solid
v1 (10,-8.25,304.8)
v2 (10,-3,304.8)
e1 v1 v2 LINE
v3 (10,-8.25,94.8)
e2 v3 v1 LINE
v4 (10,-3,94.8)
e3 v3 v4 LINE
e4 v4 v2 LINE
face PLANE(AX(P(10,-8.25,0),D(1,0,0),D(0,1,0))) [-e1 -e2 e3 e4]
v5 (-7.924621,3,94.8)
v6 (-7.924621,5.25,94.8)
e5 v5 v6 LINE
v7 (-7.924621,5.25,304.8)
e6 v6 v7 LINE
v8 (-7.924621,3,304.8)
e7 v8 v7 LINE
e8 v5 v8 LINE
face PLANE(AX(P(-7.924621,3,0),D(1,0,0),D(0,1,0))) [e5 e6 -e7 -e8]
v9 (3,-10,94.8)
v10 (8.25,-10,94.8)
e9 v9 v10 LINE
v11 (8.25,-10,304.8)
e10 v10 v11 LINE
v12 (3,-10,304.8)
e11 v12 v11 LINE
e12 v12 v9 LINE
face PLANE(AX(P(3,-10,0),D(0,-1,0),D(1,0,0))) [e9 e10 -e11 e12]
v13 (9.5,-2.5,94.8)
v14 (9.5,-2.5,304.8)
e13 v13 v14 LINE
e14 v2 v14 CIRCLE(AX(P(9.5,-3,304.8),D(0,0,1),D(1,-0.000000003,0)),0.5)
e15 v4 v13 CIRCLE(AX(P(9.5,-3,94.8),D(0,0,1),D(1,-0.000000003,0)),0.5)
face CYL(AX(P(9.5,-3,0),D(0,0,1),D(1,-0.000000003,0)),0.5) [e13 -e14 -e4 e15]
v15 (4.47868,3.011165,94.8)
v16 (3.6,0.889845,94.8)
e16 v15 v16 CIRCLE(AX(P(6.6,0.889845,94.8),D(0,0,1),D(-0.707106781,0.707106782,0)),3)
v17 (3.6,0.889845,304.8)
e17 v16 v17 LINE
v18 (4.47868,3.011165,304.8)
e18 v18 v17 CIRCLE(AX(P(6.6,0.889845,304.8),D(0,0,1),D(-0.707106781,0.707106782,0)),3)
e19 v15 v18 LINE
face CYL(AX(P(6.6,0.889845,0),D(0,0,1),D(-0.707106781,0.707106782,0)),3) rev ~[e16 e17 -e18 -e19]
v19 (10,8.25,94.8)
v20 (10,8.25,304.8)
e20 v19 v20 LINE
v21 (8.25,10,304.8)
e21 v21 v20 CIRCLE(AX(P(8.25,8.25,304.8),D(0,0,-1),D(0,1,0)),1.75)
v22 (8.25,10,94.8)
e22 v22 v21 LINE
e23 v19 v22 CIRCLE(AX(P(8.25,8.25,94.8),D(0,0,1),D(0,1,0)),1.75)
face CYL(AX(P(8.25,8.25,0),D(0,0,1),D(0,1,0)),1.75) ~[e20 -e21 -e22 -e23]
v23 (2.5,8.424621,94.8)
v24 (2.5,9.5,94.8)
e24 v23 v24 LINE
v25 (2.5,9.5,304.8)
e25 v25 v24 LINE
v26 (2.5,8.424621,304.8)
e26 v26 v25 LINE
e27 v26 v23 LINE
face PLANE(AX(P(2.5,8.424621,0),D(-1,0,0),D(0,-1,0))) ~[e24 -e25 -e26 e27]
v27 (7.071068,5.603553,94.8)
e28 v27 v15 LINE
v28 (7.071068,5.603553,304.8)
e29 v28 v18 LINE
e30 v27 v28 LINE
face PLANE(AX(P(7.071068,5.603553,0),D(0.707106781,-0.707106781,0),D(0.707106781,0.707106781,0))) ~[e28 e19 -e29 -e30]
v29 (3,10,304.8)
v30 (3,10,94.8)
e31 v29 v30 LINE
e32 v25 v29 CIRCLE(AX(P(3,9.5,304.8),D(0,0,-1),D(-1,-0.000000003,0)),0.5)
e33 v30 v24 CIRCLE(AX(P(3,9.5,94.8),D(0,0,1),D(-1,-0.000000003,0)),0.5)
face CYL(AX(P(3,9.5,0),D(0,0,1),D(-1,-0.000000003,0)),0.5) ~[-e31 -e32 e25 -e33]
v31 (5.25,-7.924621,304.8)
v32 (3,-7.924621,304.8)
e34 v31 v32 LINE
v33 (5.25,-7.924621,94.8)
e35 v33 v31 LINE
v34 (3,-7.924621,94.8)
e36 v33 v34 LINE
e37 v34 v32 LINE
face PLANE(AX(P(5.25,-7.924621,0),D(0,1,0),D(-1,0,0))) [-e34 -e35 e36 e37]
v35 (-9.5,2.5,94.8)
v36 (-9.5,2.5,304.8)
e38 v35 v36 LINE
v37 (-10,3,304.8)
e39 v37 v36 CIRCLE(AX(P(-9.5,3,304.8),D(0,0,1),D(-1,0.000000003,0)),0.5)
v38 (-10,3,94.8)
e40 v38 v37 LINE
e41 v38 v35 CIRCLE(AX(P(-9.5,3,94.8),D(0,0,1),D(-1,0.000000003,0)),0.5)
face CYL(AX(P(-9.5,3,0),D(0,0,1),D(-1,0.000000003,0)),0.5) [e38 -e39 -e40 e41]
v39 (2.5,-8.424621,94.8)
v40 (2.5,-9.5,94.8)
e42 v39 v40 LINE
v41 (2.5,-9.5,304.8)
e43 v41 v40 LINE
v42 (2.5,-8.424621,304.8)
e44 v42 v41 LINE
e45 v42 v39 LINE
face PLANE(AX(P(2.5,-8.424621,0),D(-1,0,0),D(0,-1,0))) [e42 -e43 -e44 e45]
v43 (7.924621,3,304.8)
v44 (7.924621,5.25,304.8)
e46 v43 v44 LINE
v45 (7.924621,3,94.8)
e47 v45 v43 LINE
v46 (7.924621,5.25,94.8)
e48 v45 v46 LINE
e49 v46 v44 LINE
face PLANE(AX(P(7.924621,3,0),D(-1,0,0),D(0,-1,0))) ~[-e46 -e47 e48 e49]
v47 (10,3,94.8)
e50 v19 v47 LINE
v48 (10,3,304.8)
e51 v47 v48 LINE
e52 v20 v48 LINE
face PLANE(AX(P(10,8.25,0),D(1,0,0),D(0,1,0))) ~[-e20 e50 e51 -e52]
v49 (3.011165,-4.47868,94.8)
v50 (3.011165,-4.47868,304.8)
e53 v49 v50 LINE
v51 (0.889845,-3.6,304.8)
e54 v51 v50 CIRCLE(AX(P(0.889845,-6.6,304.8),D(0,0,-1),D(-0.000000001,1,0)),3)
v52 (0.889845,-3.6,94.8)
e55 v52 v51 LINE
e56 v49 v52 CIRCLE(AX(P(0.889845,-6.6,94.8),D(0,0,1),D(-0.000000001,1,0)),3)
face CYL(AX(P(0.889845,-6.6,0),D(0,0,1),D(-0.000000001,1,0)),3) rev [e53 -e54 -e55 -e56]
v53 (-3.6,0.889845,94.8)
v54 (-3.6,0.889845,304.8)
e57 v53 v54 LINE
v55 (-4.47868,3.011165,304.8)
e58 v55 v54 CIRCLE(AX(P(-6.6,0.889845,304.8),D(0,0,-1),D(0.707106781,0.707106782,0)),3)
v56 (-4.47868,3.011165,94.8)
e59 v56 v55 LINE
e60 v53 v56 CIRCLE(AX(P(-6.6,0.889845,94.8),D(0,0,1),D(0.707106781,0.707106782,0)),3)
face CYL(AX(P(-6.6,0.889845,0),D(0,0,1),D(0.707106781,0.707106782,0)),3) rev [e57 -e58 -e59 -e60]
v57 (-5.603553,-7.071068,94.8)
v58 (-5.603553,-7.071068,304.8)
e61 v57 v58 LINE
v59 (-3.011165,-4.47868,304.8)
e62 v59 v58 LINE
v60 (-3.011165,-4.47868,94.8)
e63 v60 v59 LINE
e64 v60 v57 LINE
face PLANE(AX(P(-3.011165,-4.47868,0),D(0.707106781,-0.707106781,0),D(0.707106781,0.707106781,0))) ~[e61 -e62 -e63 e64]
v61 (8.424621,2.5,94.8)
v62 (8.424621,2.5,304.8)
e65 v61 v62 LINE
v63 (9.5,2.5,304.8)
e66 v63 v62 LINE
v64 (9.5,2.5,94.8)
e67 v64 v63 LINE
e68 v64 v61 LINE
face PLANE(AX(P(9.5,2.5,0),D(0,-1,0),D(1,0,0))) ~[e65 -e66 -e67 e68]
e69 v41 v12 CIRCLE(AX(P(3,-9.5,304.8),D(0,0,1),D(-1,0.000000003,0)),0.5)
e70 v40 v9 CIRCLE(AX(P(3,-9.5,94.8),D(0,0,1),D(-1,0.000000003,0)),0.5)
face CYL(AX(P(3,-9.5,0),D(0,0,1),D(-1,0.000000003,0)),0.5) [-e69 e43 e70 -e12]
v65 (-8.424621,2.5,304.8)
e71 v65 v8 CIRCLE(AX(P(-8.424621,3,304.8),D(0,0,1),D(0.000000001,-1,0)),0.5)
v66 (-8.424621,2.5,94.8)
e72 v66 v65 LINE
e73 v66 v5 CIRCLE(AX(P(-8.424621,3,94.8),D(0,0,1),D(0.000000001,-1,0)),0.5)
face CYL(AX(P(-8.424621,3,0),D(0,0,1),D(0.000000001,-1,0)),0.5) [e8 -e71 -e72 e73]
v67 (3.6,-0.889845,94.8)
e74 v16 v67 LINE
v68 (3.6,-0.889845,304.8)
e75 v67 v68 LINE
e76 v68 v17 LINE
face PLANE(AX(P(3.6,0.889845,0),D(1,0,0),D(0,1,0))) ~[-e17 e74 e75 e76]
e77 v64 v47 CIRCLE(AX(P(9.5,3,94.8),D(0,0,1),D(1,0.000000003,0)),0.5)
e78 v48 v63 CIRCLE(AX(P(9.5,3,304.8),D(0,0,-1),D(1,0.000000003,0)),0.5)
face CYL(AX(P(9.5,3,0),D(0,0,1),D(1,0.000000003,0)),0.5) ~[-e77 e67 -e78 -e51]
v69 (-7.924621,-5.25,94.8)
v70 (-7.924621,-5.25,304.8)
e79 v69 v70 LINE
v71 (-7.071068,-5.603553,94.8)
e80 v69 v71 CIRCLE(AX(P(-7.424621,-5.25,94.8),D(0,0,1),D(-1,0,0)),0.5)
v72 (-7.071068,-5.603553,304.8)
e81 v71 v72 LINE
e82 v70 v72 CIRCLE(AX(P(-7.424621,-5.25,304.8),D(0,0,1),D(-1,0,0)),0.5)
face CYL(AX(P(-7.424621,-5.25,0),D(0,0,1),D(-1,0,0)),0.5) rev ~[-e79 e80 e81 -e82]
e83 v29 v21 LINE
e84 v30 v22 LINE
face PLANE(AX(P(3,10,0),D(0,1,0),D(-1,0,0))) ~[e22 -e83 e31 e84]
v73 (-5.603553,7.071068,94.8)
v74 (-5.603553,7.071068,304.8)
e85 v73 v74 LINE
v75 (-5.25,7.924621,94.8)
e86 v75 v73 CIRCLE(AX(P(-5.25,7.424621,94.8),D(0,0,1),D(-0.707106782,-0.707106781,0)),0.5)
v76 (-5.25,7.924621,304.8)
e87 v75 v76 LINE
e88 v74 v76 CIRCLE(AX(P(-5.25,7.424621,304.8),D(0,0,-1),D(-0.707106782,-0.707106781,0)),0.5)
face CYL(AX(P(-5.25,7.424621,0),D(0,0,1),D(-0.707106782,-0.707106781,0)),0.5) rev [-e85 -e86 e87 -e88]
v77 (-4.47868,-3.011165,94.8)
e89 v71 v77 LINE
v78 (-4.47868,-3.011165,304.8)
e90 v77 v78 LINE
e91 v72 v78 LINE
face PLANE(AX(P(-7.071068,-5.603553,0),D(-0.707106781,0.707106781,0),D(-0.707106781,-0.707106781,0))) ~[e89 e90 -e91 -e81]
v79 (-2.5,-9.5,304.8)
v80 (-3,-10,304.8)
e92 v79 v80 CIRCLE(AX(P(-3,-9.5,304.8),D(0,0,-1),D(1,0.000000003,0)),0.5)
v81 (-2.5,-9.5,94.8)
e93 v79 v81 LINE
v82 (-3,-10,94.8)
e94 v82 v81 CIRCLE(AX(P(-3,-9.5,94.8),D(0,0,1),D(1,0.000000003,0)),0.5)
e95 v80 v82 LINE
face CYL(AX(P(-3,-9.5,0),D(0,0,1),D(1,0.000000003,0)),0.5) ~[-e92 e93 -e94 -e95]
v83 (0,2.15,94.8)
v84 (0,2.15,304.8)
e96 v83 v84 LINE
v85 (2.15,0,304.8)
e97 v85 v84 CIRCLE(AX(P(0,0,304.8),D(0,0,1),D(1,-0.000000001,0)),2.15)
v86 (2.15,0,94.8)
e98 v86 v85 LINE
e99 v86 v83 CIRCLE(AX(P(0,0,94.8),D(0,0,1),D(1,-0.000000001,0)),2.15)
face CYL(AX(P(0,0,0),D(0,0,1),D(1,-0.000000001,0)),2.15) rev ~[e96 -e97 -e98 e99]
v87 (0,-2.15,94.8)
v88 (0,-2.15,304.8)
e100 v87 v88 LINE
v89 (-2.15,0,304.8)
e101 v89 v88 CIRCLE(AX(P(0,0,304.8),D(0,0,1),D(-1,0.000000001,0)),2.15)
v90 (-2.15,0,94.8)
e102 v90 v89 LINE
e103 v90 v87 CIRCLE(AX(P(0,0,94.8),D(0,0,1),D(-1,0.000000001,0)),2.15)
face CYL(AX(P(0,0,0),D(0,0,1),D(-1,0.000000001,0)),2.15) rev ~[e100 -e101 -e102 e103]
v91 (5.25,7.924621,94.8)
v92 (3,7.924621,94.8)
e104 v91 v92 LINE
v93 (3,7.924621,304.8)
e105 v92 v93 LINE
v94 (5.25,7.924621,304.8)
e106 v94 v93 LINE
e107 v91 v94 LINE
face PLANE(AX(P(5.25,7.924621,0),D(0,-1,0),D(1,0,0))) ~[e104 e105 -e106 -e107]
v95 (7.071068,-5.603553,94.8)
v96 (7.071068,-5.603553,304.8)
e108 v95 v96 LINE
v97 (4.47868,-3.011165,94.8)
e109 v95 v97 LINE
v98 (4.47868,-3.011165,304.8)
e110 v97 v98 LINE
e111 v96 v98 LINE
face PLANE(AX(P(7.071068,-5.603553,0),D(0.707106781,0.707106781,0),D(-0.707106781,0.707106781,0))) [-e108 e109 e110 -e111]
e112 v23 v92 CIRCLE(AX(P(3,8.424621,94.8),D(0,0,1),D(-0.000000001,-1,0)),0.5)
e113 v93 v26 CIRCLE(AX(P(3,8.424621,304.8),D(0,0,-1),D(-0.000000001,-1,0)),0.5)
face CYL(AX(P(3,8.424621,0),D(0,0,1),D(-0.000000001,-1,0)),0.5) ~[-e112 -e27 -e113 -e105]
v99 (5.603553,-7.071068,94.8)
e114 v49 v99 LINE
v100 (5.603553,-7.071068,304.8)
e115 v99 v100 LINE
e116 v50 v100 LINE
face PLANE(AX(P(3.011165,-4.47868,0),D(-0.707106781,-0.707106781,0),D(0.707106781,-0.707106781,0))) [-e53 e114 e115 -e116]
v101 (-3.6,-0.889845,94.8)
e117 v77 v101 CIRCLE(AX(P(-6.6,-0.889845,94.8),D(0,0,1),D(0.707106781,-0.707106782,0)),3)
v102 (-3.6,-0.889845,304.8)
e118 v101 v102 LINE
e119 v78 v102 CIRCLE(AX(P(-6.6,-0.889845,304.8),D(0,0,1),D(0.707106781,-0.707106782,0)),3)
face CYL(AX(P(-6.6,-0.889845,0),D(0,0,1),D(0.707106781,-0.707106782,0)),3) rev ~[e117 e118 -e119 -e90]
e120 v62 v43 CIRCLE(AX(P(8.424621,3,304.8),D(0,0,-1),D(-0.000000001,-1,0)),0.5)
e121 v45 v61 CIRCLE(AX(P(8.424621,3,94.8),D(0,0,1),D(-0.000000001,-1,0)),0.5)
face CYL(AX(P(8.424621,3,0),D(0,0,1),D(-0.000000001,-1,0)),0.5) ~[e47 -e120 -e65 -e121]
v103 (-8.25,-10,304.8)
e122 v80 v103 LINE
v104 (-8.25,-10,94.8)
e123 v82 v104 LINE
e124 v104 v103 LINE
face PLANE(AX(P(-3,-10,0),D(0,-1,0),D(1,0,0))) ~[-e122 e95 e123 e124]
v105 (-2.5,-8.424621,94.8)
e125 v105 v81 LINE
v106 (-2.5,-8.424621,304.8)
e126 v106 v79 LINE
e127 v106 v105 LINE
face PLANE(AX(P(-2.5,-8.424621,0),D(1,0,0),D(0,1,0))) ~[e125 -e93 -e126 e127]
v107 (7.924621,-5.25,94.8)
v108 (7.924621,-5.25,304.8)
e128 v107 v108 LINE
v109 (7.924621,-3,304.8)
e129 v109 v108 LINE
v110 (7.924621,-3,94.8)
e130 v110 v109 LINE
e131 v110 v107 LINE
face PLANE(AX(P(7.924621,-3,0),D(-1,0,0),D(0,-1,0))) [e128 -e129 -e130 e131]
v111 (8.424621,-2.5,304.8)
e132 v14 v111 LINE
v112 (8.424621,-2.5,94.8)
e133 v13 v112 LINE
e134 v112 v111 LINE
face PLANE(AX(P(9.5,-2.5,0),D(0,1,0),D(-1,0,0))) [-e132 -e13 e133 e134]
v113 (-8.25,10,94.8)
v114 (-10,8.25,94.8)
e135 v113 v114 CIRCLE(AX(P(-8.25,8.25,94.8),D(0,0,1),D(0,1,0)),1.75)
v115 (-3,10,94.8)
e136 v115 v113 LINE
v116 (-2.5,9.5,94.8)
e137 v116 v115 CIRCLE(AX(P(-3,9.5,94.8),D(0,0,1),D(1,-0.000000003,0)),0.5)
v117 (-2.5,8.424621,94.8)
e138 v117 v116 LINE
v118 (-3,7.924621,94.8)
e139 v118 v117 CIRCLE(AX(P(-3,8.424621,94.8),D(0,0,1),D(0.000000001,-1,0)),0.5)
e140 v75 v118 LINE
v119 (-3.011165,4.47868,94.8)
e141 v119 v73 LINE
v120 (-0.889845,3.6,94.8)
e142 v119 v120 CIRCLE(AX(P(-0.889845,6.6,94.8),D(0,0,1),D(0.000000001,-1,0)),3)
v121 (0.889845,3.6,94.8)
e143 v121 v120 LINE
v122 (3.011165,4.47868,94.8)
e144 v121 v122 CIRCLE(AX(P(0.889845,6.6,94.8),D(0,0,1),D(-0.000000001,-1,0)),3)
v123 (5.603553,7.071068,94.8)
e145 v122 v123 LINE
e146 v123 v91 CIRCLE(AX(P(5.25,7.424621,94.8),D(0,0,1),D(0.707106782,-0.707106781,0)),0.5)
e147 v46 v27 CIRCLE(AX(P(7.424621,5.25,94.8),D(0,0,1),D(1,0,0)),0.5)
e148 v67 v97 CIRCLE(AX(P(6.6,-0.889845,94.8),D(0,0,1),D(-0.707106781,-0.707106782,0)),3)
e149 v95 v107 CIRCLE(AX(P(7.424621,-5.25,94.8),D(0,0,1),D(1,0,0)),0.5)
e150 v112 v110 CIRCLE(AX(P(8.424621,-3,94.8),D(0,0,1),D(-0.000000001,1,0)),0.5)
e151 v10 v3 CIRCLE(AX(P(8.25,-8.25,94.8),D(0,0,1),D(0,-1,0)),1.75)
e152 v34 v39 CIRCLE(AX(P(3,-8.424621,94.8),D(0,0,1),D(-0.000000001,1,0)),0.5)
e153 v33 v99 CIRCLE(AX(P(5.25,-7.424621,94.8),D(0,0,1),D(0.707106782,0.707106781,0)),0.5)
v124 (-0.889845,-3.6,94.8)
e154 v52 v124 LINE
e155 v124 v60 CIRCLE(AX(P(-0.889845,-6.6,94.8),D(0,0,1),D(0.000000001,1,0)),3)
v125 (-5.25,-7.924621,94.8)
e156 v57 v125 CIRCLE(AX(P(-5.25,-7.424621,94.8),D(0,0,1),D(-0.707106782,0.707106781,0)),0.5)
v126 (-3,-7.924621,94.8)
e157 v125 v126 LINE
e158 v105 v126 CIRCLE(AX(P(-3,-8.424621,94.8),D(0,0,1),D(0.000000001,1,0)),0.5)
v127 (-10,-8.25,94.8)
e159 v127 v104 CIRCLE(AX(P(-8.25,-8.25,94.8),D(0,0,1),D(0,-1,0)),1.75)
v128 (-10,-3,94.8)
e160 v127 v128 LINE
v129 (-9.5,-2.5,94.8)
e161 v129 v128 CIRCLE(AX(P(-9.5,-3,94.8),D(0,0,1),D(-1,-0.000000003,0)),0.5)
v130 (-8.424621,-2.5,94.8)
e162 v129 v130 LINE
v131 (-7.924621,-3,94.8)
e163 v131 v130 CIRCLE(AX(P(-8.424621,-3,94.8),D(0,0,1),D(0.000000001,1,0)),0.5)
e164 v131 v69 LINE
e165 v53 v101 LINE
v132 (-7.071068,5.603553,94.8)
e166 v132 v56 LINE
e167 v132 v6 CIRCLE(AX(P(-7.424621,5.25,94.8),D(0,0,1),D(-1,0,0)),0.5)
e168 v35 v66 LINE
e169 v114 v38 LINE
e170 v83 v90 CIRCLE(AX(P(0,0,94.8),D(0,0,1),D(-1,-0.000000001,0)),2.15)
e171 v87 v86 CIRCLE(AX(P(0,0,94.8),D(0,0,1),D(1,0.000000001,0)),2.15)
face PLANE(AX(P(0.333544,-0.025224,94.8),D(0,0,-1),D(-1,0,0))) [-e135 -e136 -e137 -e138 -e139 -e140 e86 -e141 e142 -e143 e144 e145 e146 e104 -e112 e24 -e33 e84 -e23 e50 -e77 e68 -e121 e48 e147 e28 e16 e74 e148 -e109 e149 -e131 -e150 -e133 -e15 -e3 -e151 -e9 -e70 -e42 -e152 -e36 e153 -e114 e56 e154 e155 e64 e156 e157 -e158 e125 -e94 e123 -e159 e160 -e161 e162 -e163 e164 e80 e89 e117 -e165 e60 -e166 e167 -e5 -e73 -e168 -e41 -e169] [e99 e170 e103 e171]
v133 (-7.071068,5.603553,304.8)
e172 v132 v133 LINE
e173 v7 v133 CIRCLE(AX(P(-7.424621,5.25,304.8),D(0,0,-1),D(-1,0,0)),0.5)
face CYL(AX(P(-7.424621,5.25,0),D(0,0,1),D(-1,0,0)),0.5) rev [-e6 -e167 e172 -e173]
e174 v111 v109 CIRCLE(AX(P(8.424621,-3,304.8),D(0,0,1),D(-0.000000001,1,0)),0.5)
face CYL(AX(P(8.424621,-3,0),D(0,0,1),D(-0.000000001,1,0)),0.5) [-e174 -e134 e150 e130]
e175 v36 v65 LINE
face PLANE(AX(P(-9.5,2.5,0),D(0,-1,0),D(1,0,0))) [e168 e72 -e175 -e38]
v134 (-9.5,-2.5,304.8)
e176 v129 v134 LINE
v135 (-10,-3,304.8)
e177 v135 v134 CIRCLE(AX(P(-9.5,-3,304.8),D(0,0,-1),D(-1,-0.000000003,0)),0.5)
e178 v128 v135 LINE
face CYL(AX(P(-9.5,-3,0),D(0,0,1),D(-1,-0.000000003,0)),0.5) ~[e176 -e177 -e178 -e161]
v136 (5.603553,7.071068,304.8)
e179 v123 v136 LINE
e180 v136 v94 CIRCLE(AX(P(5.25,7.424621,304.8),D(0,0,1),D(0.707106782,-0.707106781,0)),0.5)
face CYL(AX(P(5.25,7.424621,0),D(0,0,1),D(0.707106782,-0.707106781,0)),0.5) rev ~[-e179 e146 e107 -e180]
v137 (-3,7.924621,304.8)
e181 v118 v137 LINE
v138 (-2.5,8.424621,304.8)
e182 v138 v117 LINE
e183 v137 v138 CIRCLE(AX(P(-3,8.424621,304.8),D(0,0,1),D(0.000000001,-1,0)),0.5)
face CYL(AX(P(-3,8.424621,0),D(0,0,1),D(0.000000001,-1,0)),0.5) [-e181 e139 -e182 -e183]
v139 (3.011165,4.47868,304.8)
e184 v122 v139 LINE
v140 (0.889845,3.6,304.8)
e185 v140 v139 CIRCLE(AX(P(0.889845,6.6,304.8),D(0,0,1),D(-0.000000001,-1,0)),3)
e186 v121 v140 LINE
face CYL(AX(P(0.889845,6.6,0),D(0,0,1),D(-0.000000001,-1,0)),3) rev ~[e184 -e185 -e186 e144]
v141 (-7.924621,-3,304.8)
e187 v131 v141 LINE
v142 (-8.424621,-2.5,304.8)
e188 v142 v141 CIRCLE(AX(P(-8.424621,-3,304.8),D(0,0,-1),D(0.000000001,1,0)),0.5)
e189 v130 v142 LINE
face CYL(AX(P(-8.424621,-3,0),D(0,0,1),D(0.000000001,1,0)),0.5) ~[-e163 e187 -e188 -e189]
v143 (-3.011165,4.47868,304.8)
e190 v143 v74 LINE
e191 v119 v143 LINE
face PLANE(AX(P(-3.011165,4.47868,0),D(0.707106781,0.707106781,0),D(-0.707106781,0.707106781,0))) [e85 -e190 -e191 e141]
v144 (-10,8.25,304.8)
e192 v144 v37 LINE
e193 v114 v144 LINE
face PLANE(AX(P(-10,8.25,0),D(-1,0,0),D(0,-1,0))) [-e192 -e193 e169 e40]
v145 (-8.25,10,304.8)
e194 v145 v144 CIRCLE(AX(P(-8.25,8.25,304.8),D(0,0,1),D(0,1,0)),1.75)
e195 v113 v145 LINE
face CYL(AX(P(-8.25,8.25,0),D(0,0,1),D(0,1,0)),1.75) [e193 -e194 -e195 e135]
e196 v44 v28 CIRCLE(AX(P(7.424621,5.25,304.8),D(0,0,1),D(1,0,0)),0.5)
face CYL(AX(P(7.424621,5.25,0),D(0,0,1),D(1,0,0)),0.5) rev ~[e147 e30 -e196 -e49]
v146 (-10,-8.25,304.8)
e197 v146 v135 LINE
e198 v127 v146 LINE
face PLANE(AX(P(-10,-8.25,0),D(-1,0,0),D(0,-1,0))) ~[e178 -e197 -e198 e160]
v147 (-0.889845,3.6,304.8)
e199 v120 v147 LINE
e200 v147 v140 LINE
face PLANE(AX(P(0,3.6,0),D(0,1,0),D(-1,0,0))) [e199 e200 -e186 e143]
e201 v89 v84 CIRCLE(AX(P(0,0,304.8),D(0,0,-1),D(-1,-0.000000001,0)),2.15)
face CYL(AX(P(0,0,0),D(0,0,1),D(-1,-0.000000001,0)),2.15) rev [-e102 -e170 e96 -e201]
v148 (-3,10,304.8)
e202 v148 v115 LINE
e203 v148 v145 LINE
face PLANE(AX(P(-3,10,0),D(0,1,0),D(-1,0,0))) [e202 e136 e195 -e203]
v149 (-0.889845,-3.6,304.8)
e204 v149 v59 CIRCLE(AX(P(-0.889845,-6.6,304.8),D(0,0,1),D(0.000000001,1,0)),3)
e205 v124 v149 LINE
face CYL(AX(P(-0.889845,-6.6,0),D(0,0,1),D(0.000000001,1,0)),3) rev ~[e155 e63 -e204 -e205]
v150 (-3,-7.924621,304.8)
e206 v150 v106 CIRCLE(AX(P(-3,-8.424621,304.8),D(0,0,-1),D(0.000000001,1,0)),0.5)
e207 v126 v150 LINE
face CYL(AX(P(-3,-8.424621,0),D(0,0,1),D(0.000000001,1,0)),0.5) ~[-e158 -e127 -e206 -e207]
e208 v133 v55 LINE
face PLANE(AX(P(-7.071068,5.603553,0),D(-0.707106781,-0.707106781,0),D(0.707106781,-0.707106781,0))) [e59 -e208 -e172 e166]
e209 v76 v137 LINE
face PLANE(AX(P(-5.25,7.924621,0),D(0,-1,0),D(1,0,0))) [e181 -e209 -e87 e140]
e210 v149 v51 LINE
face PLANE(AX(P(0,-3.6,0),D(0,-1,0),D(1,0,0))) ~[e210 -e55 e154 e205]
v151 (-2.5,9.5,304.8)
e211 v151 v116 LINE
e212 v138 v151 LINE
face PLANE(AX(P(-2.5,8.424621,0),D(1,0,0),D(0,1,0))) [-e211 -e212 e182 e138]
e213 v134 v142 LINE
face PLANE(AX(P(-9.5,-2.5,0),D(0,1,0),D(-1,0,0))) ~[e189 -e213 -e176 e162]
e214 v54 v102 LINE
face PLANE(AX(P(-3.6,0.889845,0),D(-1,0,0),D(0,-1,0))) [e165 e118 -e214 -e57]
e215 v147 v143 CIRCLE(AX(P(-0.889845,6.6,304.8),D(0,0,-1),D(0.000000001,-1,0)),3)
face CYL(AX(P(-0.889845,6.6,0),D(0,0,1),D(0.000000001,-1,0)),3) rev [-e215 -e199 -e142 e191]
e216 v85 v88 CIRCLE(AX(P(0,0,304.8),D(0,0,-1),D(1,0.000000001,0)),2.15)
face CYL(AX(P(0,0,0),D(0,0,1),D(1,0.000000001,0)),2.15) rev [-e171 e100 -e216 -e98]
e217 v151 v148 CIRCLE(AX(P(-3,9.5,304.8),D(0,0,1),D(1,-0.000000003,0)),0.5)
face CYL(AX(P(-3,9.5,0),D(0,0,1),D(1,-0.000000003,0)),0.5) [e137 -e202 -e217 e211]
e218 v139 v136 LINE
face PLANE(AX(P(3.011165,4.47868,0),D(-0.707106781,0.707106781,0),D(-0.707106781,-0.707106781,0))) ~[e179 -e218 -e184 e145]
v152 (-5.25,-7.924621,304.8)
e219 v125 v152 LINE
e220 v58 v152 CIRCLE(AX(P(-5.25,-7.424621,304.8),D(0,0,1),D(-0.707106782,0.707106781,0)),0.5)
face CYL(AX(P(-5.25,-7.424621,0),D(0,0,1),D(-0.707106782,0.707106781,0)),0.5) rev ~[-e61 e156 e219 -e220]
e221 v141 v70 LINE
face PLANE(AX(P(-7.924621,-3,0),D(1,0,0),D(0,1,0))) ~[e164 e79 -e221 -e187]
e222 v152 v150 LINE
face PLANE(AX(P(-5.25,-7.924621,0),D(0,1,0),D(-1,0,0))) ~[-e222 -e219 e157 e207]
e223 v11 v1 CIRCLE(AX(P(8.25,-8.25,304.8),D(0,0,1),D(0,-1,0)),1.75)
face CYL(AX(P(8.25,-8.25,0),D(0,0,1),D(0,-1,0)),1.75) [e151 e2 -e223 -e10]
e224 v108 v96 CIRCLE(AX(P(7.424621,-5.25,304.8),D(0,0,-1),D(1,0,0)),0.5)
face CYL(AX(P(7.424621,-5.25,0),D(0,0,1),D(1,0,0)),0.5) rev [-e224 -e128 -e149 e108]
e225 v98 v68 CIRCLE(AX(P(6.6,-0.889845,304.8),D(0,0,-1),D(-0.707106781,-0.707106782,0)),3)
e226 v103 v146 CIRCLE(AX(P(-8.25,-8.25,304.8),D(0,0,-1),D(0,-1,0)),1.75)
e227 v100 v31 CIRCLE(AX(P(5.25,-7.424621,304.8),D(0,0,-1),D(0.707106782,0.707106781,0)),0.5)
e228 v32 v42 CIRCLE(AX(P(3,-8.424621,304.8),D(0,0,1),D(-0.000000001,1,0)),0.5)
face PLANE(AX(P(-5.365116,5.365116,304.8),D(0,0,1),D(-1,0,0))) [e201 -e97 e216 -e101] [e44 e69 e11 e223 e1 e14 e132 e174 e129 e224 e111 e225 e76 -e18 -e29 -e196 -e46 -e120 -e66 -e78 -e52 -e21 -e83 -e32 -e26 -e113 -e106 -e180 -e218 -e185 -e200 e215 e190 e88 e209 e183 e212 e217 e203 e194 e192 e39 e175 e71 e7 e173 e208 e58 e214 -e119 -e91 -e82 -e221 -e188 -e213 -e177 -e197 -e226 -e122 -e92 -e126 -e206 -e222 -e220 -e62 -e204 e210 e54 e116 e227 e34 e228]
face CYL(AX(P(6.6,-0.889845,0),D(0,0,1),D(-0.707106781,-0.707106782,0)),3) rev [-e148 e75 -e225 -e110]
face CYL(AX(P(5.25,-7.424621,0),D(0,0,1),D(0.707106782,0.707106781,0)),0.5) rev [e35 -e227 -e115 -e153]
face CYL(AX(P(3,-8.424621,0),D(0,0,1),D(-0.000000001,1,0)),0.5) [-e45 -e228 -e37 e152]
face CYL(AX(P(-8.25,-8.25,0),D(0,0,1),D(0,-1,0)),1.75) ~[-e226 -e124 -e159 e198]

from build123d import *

# Parameters (mm, degrees)
BOSS_EXTRUDE1_DEPTH = 304.8
SKETCH5_W           = 26.995197012
SKETCH5_H           = 24.68705749
CUT_EXTRUDE1_DEPTH  = 399.6


with BuildPart() as part:
    # Sketch4 → Boss-Extrude1 (new, symmetric)
    with BuildSketch(Plane.XY):
        with BuildLine():
            Line((3, -10), (8.25, -10))
            ThreePointArc((8.25, -10), (9.487436867, -9.487436867), (10, -8.25))
            Line((10, -8.25), (10, -3))
            ThreePointArc((10, -3), (9.853553391, -2.646446609), (9.5, -2.5))
            Line((9.5, -2.5), (8.424621202, -2.5))
            ThreePointArc((8.424621202, -2.5), (8.071067812, -2.646446609), (7.924621202, -3))
            Line((7.924621202, -3), (7.924621202, -5.25))
            ThreePointArc((7.924621202, -5.25), (7.615962919, -5.711939766), (7.071067812, -5.603553391))
            Line((7.071067812, -5.603553391), (4.478679656, -3.011165235))
            ThreePointArc((4.478679656, -3.011165235), (3.828361402, -2.037895189), (3.6, -0.889844892))
            Line((3.6, -0.889844892), (3.6, 0))
            Line((3.6, 0), (2.15, 0))
            ThreePointArc((2.15, 0), (1.52027958, -1.52027958), (0, -2.15))
            Line((0, -2.15), (0, -3.6))
            Line((0, -3.6), (0.889844892, -3.6))
            ThreePointArc((0.889844892, -3.6), (2.037895189, -3.828361402), (3.011165235, -4.478679656))
            Line((3.011165235, -4.478679656), (5.603553391, -7.071067812))
            ThreePointArc((5.603553391, -7.071067812), (5.711939766, -7.615962919), (5.25, -7.924621202))
            Line((5.25, -7.924621202), (3, -7.924621202))
            ThreePointArc((3, -7.924621202), (2.646446609, -8.071067812), (2.5, -8.424621202))
            Line((2.5, -8.424621202), (2.5, -9.5))
            ThreePointArc((2.5, -9.5), (2.646446609, -9.853553391), (3, -10))
        make_face()
    extrude(amount=BOSS_EXTRUDE1_DEPTH, both=True)

    # Mirror1: part across plane


with BuildPart() as part_1:
    add(part.part)
    add(part.part.mirror(Plane(origin=(0, 0, 0), x_dir=(0, 0, 1), z_dir=(1, 0, 0))))

    # Mirror2: part across plane


with BuildPart() as part_2:
    add(part_1.part)
    add(part_1.part.mirror(Plane.ZX))

    # Sketch5 → Cut-Extrude1 (cut)
    with BuildSketch(Plane(origin=(0, 0, -304.8), x_dir=(-1, 0, 0), z_dir=(0, 0, -1))):
        with Locations((-0.333544011, -0.025224209)):
            Rectangle(SKETCH5_W, SKETCH5_H)
    extrude(amount=-CUT_EXTRUDE1_DEPTH, mode=Mode.SUBTRACT)


solid = part_2.part
